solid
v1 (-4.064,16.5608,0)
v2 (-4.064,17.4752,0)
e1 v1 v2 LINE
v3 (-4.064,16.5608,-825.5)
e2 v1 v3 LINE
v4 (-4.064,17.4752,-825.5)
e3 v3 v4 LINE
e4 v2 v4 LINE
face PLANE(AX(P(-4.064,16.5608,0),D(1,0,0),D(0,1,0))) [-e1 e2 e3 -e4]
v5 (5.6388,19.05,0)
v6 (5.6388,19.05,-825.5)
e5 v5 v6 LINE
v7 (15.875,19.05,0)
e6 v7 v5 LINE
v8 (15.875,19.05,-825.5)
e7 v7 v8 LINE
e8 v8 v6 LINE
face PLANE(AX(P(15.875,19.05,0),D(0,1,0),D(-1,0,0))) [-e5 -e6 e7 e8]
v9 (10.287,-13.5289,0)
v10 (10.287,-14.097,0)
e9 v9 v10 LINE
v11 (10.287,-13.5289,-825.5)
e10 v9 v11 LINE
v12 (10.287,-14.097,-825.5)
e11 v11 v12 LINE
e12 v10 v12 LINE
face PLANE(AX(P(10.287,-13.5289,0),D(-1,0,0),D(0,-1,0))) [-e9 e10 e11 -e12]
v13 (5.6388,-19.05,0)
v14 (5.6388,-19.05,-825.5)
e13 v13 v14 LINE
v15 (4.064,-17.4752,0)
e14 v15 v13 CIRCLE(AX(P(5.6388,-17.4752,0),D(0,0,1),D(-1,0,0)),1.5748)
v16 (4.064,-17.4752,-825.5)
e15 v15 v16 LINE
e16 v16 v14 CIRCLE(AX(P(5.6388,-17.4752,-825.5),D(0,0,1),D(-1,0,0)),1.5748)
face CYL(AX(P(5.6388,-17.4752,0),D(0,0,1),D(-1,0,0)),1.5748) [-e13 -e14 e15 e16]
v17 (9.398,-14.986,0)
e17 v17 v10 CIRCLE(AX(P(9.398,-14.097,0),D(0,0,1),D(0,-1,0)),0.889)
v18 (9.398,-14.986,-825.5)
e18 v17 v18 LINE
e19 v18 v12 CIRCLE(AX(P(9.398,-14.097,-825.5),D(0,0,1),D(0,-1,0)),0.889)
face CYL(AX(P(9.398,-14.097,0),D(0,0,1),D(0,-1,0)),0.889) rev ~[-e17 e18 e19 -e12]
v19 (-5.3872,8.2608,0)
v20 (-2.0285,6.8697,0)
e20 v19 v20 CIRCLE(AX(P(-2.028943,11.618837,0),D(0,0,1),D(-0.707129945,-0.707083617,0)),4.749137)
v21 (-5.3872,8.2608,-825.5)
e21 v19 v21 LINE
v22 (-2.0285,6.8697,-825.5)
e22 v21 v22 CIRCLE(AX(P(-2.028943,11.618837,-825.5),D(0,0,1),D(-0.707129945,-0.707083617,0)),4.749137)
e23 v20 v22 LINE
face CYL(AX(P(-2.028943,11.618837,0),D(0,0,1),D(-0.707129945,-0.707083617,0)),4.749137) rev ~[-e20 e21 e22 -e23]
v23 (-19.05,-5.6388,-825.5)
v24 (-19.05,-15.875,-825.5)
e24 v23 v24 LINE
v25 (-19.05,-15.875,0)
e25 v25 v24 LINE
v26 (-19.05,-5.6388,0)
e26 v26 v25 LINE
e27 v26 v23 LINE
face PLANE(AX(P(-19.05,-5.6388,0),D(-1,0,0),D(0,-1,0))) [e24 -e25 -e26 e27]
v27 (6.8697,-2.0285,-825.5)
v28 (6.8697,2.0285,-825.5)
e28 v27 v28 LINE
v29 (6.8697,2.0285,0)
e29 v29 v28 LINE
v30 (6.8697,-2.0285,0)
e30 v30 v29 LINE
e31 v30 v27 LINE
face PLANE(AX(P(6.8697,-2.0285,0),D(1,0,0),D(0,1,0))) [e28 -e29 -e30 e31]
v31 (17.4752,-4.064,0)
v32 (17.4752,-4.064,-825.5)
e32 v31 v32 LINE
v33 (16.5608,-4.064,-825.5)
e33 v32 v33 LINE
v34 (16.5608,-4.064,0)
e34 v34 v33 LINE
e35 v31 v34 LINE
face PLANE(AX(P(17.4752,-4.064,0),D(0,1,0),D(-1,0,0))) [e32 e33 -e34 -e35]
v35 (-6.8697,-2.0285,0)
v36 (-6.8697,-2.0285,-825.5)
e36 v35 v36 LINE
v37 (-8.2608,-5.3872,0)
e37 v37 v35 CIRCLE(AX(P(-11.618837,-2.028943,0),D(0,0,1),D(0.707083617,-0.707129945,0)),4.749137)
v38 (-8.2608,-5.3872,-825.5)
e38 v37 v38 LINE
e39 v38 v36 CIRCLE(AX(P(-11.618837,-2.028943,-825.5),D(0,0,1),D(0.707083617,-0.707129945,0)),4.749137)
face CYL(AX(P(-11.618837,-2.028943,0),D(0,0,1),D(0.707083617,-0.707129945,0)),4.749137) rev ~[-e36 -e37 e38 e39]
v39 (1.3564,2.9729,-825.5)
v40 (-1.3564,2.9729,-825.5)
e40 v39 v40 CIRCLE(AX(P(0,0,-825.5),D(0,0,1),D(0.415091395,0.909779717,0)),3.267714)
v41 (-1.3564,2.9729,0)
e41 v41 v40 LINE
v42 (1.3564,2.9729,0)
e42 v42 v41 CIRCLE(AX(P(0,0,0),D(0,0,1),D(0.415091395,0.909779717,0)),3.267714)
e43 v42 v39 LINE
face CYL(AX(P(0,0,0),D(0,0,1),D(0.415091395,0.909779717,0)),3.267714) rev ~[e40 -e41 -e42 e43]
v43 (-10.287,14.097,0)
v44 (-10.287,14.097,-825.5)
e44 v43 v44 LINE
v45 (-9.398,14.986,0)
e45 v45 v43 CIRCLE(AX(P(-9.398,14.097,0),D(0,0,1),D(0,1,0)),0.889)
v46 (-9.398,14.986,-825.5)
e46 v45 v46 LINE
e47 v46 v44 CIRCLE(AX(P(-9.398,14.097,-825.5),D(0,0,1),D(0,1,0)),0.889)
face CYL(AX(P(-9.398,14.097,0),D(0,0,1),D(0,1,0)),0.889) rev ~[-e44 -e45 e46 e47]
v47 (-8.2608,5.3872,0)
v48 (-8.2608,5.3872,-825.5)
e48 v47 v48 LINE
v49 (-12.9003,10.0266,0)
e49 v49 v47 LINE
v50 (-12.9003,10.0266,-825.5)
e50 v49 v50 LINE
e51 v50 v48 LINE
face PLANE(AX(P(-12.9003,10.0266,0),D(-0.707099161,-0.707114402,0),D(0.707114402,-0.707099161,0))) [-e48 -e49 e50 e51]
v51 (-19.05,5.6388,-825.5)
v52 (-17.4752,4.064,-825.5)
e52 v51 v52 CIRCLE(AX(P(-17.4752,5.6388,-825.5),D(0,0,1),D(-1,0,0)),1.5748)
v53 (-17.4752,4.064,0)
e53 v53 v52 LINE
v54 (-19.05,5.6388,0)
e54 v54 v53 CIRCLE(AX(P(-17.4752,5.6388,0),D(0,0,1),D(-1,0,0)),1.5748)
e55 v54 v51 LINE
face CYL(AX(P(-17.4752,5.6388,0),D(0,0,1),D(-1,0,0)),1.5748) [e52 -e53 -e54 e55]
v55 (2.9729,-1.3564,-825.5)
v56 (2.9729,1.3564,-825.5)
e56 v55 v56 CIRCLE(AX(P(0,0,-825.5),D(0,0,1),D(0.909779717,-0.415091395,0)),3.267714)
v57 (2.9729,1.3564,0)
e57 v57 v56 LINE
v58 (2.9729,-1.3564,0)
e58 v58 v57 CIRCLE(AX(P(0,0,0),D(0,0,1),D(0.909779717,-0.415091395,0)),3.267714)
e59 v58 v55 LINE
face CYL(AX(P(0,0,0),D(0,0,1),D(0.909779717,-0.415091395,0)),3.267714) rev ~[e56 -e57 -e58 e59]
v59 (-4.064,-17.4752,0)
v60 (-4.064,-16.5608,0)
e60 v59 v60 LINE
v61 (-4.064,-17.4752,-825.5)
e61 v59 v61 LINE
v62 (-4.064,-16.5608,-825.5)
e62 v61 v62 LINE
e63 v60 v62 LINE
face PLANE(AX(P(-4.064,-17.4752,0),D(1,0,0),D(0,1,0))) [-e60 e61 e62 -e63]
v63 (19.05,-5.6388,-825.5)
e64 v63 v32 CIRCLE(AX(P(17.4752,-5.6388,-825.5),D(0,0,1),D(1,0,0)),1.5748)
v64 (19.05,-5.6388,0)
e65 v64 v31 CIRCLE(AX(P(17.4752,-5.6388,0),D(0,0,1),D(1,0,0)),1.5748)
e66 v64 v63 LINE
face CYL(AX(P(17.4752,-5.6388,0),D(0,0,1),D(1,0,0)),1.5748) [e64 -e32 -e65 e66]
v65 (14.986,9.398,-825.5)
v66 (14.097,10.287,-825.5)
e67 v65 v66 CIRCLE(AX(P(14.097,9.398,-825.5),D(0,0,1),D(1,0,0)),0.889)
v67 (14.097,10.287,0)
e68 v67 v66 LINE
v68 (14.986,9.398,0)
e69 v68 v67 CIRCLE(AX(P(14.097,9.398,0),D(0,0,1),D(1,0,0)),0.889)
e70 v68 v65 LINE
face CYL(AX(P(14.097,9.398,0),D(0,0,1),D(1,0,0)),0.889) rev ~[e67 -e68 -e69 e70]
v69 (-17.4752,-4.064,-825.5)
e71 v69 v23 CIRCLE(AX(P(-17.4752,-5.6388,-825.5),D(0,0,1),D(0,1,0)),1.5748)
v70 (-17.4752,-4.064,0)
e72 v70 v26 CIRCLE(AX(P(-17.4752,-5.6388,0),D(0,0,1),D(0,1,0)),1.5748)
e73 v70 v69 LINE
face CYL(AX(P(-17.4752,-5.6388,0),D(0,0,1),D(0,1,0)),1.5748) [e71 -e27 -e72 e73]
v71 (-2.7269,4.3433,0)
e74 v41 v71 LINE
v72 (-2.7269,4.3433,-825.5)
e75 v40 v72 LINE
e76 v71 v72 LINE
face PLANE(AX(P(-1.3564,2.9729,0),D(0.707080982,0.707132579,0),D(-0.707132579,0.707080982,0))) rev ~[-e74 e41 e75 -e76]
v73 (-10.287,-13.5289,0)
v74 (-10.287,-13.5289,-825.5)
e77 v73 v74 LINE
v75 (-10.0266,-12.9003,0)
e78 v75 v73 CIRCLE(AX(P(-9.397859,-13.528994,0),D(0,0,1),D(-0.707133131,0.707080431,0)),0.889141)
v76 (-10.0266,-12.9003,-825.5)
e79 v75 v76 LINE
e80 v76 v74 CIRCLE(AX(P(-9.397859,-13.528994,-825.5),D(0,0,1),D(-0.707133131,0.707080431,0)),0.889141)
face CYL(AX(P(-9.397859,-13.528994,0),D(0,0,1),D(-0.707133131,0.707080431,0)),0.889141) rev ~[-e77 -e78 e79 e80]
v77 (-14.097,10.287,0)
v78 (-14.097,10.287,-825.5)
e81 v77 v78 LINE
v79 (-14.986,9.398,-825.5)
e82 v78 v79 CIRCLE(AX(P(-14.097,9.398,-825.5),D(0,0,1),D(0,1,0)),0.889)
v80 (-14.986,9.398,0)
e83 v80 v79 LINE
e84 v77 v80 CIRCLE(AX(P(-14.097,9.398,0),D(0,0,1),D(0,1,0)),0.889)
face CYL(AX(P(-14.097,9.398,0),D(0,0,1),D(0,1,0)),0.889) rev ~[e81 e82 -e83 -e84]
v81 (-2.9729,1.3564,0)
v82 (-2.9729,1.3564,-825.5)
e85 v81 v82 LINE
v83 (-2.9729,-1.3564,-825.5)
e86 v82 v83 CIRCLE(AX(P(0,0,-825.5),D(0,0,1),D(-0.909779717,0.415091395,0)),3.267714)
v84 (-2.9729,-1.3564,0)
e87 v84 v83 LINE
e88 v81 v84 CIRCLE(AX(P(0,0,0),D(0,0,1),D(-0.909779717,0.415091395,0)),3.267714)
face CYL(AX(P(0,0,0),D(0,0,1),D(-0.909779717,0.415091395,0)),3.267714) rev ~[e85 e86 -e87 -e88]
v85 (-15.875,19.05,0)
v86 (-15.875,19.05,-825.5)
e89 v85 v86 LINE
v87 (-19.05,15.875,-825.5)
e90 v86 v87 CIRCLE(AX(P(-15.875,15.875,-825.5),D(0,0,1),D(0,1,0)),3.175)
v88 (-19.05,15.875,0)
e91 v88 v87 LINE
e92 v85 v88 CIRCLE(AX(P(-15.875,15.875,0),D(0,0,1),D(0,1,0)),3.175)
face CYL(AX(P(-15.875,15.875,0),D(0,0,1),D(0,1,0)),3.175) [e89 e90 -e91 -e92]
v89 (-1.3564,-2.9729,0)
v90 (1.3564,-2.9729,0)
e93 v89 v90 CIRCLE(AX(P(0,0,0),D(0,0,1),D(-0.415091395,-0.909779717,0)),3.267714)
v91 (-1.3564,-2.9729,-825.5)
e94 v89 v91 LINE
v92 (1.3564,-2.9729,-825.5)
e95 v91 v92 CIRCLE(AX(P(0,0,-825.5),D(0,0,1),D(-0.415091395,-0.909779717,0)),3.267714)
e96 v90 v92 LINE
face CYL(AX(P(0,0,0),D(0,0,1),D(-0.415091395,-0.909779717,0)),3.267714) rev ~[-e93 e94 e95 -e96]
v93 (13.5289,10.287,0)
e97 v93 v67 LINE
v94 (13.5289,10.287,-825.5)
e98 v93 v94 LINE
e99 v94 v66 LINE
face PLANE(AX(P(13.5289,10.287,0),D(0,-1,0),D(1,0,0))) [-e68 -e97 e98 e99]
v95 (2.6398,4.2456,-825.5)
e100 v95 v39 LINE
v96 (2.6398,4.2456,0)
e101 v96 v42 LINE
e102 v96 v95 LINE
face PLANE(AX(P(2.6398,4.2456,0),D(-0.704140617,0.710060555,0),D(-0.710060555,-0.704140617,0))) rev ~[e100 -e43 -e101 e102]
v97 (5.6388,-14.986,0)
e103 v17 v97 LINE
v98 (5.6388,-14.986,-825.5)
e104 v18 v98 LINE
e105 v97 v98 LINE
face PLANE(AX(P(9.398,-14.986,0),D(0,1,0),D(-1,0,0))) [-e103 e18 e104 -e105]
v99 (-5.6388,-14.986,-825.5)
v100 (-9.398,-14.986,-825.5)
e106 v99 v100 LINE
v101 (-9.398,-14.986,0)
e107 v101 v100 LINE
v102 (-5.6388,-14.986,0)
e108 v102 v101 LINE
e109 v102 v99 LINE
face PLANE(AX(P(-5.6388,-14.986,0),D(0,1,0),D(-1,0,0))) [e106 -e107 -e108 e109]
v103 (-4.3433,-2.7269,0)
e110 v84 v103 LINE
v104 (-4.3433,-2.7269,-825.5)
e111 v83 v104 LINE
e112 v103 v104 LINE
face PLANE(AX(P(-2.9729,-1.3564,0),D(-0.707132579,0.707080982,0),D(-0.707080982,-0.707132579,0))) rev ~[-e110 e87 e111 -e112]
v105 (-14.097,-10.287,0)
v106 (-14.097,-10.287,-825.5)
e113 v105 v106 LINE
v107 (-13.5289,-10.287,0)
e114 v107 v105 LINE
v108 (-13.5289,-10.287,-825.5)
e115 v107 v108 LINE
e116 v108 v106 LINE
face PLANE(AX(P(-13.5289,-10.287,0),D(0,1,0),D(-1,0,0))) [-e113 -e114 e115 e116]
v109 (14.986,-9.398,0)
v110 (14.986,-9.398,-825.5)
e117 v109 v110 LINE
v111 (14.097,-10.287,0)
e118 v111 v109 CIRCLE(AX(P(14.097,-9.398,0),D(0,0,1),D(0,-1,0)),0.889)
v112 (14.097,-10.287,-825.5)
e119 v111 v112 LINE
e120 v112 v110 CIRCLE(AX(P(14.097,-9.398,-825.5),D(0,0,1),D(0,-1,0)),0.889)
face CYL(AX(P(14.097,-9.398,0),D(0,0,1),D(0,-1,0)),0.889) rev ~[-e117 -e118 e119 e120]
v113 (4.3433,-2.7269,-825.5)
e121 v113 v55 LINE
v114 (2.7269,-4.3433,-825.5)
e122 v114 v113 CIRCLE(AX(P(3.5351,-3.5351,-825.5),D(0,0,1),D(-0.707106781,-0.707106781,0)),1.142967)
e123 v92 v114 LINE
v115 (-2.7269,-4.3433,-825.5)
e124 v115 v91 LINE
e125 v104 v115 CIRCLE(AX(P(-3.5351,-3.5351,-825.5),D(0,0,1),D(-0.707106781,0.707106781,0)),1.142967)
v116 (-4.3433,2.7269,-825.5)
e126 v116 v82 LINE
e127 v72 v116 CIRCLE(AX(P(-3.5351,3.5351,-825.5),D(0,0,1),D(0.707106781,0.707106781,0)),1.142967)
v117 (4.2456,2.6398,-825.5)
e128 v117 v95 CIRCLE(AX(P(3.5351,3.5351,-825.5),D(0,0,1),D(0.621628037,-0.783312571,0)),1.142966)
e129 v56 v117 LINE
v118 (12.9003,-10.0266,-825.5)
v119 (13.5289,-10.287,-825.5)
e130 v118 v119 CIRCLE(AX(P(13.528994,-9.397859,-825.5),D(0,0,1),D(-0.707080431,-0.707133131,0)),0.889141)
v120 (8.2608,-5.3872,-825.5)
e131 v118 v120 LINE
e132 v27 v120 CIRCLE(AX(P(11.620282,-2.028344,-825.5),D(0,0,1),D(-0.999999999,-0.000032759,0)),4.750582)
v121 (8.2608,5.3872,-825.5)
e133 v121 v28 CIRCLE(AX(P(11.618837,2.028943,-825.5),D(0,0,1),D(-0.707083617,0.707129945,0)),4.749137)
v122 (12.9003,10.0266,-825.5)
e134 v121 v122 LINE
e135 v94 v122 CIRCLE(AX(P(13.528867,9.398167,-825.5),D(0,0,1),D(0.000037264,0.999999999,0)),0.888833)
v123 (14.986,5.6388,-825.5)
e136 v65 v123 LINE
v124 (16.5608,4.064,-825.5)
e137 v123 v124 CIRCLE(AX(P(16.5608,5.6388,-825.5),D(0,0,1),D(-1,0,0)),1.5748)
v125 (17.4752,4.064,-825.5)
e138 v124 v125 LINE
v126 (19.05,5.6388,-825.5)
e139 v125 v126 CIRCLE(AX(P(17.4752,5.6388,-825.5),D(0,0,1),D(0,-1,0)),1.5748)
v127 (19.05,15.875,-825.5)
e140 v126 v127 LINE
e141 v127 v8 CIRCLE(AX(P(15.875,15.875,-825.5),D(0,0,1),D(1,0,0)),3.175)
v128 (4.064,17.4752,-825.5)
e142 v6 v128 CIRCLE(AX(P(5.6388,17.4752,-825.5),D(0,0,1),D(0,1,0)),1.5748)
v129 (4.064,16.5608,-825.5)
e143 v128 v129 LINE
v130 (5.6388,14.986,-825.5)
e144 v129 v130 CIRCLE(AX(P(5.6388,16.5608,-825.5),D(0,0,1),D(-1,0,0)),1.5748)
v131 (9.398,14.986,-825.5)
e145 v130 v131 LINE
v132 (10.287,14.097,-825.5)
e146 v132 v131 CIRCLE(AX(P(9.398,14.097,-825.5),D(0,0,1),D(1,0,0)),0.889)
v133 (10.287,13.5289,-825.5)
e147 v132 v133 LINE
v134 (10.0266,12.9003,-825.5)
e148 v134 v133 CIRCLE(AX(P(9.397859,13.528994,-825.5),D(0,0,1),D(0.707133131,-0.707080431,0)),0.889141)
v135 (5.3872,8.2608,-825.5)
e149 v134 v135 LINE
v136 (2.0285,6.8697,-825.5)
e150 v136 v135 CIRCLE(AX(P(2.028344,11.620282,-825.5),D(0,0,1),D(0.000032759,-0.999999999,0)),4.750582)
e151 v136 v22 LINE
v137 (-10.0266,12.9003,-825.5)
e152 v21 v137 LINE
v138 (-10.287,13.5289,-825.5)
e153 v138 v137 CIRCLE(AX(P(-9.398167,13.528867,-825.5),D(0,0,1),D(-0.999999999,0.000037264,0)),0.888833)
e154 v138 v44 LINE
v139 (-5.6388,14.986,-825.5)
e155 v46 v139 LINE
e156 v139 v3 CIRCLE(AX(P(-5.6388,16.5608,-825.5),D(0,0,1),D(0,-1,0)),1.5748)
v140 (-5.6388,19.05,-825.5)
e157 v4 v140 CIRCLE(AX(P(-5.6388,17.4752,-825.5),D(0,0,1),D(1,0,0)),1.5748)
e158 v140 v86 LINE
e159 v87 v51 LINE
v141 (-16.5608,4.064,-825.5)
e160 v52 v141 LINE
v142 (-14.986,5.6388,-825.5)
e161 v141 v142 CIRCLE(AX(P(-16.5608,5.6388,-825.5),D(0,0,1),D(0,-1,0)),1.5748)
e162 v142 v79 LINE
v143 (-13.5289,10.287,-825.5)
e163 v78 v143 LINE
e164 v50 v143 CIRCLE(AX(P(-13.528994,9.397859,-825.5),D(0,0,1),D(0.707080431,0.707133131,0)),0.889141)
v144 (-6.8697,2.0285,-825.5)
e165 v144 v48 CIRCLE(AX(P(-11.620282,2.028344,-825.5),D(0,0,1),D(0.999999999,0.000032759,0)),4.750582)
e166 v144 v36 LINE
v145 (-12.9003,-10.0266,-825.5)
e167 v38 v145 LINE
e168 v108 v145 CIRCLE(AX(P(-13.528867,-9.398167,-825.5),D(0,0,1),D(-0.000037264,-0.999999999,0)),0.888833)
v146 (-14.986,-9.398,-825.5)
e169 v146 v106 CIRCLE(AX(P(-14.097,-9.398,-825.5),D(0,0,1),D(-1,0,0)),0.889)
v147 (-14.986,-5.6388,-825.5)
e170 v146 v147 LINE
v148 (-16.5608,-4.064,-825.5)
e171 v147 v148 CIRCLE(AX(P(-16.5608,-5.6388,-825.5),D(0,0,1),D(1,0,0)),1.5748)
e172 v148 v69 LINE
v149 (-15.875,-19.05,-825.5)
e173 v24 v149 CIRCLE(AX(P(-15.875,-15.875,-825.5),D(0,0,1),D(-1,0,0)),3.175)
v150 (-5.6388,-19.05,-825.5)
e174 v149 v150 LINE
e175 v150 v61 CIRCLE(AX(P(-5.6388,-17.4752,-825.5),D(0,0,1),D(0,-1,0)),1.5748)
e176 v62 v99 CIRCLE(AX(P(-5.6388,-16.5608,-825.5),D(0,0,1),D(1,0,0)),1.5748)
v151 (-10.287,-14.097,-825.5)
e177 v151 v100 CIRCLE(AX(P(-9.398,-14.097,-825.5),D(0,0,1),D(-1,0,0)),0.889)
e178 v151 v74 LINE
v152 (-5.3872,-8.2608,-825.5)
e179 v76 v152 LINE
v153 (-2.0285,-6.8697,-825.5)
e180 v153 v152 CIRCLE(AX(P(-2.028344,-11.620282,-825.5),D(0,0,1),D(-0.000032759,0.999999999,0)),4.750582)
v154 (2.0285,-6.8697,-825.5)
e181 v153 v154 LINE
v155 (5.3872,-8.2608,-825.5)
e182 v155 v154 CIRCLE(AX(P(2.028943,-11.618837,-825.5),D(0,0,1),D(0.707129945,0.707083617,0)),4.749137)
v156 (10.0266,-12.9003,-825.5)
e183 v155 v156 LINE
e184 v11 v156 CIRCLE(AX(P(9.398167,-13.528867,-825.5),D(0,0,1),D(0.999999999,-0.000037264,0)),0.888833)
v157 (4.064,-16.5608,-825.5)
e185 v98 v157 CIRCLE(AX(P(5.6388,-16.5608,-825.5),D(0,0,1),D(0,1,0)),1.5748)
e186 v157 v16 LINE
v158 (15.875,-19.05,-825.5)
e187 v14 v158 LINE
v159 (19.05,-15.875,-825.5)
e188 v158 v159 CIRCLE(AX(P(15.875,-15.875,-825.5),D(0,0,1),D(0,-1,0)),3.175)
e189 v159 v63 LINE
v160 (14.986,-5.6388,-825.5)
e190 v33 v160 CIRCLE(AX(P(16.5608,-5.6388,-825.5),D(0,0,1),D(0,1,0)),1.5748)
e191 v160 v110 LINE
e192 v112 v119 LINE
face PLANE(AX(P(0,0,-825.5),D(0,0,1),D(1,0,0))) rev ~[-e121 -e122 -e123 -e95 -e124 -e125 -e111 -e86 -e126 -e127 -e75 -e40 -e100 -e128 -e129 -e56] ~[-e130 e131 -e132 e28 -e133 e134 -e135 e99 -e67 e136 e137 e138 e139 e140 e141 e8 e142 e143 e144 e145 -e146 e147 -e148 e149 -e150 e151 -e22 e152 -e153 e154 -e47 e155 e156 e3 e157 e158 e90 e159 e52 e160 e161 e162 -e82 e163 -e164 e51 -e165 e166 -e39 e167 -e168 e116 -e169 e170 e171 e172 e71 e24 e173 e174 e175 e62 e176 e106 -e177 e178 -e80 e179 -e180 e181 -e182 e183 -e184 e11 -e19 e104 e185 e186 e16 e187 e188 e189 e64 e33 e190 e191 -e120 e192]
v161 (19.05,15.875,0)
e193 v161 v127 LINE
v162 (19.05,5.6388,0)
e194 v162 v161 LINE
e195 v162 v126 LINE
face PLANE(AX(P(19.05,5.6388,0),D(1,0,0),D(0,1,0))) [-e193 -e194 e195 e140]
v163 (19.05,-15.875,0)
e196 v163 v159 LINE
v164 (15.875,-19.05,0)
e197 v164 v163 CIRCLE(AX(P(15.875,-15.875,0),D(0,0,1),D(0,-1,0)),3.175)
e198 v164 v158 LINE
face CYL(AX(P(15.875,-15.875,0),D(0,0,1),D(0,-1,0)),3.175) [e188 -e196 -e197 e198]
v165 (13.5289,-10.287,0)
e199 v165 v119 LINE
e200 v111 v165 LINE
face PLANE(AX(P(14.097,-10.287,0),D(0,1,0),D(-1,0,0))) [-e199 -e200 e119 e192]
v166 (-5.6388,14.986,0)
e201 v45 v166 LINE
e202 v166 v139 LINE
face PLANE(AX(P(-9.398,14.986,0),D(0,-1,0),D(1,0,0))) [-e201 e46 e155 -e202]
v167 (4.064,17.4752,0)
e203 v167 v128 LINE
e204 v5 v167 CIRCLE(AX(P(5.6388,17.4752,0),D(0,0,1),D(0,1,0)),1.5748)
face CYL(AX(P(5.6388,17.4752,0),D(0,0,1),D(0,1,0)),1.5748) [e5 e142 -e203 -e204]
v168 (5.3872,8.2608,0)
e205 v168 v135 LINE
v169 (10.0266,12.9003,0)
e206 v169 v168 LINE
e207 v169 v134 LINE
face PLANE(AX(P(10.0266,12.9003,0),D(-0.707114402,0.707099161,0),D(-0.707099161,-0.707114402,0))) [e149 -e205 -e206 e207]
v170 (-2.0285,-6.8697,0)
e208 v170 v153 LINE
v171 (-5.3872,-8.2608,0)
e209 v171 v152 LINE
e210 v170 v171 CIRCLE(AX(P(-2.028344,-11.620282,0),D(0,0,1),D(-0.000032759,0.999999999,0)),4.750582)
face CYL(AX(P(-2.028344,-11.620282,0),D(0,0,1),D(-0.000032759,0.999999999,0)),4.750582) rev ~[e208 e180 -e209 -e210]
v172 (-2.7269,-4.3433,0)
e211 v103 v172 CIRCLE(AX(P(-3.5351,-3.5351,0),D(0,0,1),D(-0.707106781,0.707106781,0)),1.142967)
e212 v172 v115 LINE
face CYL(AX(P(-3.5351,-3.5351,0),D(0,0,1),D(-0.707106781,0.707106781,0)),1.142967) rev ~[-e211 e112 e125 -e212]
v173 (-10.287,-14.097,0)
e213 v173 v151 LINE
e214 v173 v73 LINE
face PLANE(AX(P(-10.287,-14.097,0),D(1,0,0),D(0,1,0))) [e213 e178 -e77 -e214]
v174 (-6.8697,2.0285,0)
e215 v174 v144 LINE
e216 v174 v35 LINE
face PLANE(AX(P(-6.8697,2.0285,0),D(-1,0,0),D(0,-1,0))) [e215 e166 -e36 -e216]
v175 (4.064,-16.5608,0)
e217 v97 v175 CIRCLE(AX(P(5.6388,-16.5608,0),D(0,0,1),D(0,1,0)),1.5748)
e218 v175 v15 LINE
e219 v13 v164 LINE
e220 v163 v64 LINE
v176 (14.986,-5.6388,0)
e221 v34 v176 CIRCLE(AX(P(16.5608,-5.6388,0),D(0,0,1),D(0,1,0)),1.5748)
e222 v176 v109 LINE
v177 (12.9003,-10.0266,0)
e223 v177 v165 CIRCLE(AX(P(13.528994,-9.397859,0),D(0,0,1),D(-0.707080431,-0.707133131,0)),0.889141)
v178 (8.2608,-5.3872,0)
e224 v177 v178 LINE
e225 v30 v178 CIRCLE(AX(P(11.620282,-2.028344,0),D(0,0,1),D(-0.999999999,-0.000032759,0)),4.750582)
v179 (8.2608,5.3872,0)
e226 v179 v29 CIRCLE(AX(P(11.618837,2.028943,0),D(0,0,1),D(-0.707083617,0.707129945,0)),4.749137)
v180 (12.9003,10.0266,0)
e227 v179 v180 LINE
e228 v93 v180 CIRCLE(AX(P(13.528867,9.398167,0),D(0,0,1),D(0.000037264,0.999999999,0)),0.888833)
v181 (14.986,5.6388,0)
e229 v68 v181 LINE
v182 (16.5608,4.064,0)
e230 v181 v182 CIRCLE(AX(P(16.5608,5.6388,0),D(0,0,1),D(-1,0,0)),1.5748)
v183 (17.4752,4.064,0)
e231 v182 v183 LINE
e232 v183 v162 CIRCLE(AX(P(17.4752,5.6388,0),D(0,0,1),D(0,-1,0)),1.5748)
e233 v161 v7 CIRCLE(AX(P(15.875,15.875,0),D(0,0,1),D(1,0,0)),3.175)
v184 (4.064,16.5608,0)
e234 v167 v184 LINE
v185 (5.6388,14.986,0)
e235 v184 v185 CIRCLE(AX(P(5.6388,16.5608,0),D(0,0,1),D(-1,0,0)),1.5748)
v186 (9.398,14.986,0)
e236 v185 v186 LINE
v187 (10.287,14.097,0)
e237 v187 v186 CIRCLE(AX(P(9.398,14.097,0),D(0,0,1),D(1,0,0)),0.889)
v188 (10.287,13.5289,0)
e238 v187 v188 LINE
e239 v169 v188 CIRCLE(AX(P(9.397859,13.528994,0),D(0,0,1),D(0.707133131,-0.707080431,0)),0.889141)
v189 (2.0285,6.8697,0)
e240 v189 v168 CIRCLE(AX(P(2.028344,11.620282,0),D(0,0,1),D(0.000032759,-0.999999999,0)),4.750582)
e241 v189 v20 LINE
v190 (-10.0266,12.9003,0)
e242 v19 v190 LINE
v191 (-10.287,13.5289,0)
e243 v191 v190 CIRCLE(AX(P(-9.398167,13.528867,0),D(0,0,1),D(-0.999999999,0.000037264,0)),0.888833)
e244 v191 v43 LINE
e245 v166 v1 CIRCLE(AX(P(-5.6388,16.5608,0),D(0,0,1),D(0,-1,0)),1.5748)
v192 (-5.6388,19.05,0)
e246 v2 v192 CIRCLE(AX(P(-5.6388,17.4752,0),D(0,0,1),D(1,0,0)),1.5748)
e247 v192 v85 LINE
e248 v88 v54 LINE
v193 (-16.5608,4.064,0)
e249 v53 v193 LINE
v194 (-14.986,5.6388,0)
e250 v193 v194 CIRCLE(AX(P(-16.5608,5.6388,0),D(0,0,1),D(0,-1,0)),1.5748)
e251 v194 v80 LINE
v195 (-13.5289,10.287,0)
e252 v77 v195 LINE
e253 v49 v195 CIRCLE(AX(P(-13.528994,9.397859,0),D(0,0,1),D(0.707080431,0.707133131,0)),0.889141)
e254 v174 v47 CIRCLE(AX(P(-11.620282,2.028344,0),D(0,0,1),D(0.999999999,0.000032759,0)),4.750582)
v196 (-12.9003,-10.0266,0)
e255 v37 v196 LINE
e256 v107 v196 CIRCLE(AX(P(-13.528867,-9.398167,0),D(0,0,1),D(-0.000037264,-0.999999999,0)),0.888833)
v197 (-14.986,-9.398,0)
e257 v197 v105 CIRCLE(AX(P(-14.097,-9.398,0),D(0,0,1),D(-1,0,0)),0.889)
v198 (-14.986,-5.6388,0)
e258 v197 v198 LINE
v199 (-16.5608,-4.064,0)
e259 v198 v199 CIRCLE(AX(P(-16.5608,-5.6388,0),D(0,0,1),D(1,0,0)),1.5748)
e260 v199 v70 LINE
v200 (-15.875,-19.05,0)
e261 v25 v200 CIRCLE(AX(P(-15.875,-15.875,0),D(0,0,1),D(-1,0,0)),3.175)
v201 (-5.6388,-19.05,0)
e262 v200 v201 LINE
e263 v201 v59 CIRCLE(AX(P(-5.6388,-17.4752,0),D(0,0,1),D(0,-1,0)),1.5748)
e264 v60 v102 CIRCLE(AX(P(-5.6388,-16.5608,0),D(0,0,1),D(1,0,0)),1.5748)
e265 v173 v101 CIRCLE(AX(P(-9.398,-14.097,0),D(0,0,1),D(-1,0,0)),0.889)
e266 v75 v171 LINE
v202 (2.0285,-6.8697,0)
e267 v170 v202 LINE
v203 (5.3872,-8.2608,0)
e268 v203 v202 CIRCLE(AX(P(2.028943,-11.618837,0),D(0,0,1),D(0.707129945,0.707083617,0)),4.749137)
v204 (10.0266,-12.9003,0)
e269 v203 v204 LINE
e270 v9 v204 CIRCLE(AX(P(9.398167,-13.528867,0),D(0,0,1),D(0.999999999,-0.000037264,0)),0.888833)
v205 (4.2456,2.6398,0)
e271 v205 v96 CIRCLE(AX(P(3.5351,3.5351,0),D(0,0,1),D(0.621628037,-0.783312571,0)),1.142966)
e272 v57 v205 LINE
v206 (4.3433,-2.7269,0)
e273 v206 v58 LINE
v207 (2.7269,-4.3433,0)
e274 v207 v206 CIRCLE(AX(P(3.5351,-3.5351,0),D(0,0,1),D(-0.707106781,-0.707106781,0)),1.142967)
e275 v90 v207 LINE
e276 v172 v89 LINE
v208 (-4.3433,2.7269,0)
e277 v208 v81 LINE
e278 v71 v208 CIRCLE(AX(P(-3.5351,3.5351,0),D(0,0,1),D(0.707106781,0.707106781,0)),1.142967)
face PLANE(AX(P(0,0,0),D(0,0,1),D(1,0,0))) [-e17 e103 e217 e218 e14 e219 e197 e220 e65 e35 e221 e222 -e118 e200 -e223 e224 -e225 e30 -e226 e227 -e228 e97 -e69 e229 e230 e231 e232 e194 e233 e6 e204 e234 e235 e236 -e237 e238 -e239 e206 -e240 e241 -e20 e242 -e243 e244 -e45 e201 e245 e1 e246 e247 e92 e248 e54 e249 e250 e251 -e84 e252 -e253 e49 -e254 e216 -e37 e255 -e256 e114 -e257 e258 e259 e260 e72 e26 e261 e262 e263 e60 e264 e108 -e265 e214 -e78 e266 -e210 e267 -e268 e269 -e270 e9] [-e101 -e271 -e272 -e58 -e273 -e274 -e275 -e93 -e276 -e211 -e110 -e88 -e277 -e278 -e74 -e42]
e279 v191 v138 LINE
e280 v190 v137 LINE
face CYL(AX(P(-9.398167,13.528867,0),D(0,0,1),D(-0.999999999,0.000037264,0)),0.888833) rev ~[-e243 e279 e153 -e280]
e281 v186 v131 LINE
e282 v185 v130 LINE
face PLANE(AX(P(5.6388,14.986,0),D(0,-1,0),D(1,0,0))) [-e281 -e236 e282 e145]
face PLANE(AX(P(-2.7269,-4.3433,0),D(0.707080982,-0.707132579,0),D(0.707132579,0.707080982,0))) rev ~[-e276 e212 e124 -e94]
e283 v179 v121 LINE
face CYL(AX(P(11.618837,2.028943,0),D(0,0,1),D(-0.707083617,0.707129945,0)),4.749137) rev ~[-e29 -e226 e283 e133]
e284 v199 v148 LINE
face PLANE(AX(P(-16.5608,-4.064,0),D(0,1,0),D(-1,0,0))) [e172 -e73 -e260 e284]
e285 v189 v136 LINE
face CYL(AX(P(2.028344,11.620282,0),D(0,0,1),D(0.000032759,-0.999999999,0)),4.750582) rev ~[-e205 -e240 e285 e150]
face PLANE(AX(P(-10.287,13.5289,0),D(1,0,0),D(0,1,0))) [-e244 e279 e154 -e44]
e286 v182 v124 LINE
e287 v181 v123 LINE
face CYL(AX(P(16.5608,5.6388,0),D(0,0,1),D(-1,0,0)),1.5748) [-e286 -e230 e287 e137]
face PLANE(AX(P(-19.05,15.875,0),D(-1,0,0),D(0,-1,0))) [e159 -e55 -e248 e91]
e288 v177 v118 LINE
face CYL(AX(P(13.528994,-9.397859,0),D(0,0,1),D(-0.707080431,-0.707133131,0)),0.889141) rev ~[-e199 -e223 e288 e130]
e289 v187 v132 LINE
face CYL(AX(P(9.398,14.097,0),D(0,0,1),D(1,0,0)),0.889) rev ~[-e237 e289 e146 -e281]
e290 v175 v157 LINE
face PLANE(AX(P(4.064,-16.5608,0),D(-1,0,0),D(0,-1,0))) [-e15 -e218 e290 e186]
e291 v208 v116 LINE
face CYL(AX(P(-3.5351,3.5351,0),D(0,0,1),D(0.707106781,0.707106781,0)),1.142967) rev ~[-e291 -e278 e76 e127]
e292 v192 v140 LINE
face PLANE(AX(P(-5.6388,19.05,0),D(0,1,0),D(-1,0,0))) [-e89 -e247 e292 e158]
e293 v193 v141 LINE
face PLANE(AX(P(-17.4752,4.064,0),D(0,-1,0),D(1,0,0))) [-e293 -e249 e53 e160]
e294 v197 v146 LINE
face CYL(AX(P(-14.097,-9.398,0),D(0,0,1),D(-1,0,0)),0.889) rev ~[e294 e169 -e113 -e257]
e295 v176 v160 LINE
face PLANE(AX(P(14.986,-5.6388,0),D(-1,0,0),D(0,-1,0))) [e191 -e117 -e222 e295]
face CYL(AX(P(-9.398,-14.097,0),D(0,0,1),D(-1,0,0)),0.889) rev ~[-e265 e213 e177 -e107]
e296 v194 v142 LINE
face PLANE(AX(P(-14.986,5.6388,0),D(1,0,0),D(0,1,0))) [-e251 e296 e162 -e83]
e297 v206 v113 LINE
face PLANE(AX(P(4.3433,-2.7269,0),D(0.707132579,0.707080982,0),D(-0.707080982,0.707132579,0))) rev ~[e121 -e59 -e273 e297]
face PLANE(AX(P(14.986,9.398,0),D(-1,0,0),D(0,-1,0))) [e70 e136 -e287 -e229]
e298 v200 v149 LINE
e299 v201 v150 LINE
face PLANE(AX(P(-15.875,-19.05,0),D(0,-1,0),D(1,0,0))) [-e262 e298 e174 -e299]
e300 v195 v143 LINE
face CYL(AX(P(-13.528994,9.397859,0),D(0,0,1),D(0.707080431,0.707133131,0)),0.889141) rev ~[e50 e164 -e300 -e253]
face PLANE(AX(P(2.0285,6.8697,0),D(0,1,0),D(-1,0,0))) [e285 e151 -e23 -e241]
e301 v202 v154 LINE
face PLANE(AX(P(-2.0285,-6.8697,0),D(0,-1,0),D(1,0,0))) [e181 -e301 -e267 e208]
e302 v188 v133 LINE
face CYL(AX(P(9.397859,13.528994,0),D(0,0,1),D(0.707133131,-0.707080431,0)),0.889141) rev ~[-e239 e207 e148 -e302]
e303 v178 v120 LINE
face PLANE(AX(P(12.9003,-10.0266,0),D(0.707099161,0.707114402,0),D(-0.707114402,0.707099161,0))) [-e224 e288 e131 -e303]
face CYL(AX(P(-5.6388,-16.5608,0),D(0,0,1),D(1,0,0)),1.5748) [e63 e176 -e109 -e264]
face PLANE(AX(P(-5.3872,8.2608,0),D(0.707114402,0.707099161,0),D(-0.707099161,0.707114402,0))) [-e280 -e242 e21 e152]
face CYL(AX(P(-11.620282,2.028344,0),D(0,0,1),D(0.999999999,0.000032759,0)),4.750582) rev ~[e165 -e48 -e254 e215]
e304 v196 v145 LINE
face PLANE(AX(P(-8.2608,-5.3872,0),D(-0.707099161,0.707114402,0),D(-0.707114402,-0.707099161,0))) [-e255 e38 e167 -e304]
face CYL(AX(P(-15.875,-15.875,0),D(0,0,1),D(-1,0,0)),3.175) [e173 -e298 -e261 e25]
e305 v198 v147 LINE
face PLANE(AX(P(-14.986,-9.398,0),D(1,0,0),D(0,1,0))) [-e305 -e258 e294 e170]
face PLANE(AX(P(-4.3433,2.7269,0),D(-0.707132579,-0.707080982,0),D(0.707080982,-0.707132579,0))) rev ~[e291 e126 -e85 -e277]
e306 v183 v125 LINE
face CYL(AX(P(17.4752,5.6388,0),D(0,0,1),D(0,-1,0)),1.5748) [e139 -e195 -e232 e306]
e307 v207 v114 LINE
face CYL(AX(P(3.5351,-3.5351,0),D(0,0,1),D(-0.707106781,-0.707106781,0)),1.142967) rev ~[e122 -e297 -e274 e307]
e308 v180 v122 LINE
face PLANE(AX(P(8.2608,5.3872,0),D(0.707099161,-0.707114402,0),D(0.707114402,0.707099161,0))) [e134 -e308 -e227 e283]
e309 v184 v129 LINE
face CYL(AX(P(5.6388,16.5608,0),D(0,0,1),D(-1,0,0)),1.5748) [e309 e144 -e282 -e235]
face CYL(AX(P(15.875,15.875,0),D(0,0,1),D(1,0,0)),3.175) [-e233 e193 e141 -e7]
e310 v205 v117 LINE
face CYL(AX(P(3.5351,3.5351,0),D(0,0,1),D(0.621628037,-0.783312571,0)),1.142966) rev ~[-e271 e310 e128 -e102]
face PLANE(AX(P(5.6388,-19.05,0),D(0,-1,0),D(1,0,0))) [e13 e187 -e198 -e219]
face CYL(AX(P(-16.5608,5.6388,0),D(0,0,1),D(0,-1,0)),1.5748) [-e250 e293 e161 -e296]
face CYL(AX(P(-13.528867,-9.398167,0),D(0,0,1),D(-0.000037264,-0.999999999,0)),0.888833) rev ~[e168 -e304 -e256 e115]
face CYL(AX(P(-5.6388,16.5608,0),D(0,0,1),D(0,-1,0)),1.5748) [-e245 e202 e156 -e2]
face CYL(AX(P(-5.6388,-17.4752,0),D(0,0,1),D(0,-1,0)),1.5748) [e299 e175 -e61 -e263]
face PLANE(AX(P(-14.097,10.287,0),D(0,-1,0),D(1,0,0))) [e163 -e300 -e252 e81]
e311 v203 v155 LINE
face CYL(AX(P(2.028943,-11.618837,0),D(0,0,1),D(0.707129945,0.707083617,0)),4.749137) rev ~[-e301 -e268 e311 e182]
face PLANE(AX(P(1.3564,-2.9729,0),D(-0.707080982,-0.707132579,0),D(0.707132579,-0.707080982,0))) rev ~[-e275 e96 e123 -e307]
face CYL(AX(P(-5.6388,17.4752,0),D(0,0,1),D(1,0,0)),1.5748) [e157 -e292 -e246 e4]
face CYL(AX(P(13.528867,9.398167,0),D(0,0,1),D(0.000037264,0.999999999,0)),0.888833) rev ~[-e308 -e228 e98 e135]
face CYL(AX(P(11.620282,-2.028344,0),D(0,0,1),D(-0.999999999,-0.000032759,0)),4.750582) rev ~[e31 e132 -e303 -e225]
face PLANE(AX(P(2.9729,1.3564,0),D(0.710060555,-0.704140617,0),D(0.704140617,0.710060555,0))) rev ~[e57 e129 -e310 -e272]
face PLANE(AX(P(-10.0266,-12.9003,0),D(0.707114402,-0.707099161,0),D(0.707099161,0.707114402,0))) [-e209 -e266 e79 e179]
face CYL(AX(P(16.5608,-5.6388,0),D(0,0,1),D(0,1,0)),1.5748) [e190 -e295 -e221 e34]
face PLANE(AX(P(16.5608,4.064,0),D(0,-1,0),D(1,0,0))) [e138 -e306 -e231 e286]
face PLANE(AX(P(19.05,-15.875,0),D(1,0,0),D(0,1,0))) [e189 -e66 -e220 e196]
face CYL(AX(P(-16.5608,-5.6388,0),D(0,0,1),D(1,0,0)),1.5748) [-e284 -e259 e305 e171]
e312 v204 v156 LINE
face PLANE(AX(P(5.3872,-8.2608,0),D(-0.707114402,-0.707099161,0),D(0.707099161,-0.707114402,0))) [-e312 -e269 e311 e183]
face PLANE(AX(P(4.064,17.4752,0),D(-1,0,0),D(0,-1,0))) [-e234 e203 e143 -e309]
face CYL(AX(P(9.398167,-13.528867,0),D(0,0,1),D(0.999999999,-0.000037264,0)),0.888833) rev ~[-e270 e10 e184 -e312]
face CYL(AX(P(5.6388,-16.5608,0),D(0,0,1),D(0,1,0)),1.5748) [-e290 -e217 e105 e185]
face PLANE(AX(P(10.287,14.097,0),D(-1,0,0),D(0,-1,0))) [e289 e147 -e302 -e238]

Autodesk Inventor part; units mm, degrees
ref_plane "YZ Plane" through (0, 0, 0) normal (1, 0, 0) x (0, 1, 0)
ref_plane "XZ Plane" through (0, 0, 0) normal (0, 1, 0) x (-1, 0, 0)
ref_plane "Work Plane1" through (-293.8098, -15.875, -838.2) normal (0, 0, 1) x (1, 0, 0)
sketch "Sketch1" plane through (0, 0, 0) normal (0, 0, 1) x (1, 0, 0)
  arc A0 (4.2456, 2.6398) -> (2.6398, 4.2456) centre (3.5351, 3.5351) ccw
  line L0 (2.9729, 1.3564) -> (4.2456, 2.6398)
  arc A1 (2.9729, -1.3564) -> (2.9729, 1.3564) centre (0, 0) ccw
  line L1 (4.3433, -2.7269) -> (2.9729, -1.3564)
  arc A2 (2.7269, -4.3433) -> (4.3433, -2.7269) centre (3.5351, -3.5351) ccw
  line L2 (1.3564, -2.9729) -> (2.7269, -4.3433)
  arc A3 (-1.3564, -2.9729) -> (1.3564, -2.9729) centre (0, 0) ccw
  line L3 (-2.7269, -4.3433) -> (-1.3564, -2.9729)
  arc A4 (-4.3433, -2.7269) -> (-2.7269, -4.3433) centre (-3.5351, -3.5351) ccw
  line L4 (-2.9729, -1.3564) -> (-4.3433, -2.7269)
  arc A5 (-2.9729, 1.3564) -> (-2.9729, -1.3564) centre (0, 0) ccw
  line L5 (-4.3433, 2.7269) -> (-2.9729, 1.3564)
  arc A6 (-2.7269, 4.3433) -> (-4.3433, 2.7269) centre (-3.5351, 3.5351) ccw
  line L6 (-1.3564, 2.9729) -> (-2.7269, 4.3433)
  arc A7 (1.3564, 2.9729) -> (-1.3564, 2.9729) centre (0, 0) ccw
  line L7 (2.6398, 4.2456) -> (1.3564, 2.9729)
  arc A8 (16.5608, -4.064) -> (14.986, -5.6388) centre (16.5608, -5.6388) ccw
  line L8 (14.986, -5.6388) -> (14.986, -9.398)
  arc A9 (14.097, -10.287) -> (14.986, -9.398) centre (14.097, -9.398) ccw
  line L9 (14.097, -10.287) -> (13.5289, -10.287)
  arc A10 (12.9003, -10.0266) -> (13.5289, -10.287) centre (13.5289, -9.398) ccw
  line L10 (12.9003, -10.0266) -> (8.2608, -5.3872)
  arc A11 (6.8697, -2.0285) -> (8.2608, -5.3872) centre (11.6195, -2.0285) ccw
  line L11 (6.8697, -2.0285) -> (6.8697, 2.0285)
  arc A12 (8.2608, 5.3872) -> (6.8697, 2.0285) centre (11.6195, 2.0285) ccw
  line L12 (8.2608, 5.3872) -> (12.9003, 10.0266)
  arc A13 (13.5289, 10.287) -> (12.9003, 10.0266) centre (13.5289, 9.398) ccw
  line L13 (13.5289, 10.287) -> (14.097, 10.287)
  arc A14 (14.986, 9.398) -> (14.097, 10.287) centre (14.097, 9.398) ccw
  line L14 (14.986, 9.398) -> (14.986, 5.6388)
  arc A15 (14.986, 5.6388) -> (16.5608, 4.064) centre (16.5608, 5.6388) ccw
  line L15 (16.5608, 4.064) -> (17.4752, 4.064)
  arc A16 (17.4752, 4.064) -> (19.05, 5.6388) centre (17.4752, 5.6388) ccw
  line L16 (19.05, 5.6388) -> (19.05, 15.875)
  arc A17 (19.05, 15.875) -> (15.875, 19.05) centre (15.875, 15.875) ccw
  line L17 (15.875, 19.05) -> (5.6388, 19.05)
  arc A18 (5.6388, 19.05) -> (4.064, 17.4752) centre (5.6388, 17.4752) ccw
  line L18 (4.064, 17.4752) -> (4.064, 16.5608)
  arc A19 (4.064, 16.5608) -> (5.6388, 14.986) centre (5.6388, 16.5608) ccw
  line L19 (5.6388, 14.986) -> (9.398, 14.986)
  arc A20 (10.287, 14.097) -> (9.398, 14.986) centre (9.398, 14.097) ccw
  line L20 (10.287, 14.097) -> (10.287, 13.5289)
  arc A21 (10.0266, 12.9003) -> (10.287, 13.5289) centre (9.398, 13.5289) ccw
  line L21 (10.0266, 12.9003) -> (5.3872, 8.2608)
  arc A22 (2.0285, 6.8697) -> (5.3872, 8.2608) centre (2.0285, 11.6195) ccw
  line L22 (2.0285, 6.8697) -> (-2.0285, 6.8697)
  arc A23 (-5.3872, 8.2608) -> (-2.0285, 6.8697) centre (-2.0285, 11.6195) ccw
  line L23 (-5.3872, 8.2608) -> (-10.0266, 12.9003)
  arc A24 (-10.287, 13.5289) -> (-10.0266, 12.9003) centre (-9.398, 13.5289) ccw
  line L24 (-10.287, 13.5289) -> (-10.287, 14.097)
  arc A25 (-9.398, 14.986) -> (-10.287, 14.097) centre (-9.398, 14.097) ccw
  line L25 (-9.398, 14.986) -> (-5.6388, 14.986)
  arc A26 (-5.6388, 14.986) -> (-4.064, 16.5608) centre (-5.6388, 16.5608) ccw
  line L26 (-4.064, 16.5608) -> (-4.064, 17.4752)
  arc A27 (-4.064, 17.4752) -> (-5.6388, 19.05) centre (-5.6388, 17.4752) ccw
  line L27 (-5.6388, 19.05) -> (-15.875, 19.05)
  arc A28 (-15.875, 19.05) -> (-19.05, 15.875) centre (-15.875, 15.875) ccw
  line L28 (-19.05, 15.875) -> (-19.05, 5.6388)
  arc A29 (-19.05, 5.6388) -> (-17.4752, 4.064) centre (-17.4752, 5.6388) ccw
  line L29 (-17.4752, 4.064) -> (-16.5608, 4.064)
  arc A30 (-16.5608, 4.064) -> (-14.986, 5.6388) centre (-16.5608, 5.6388) ccw
  line L30 (-14.986, 5.6388) -> (-14.986, 9.398)
  arc A31 (-14.097, 10.287) -> (-14.986, 9.398) centre (-14.097, 9.398) ccw
  line L31 (-14.097, 10.287) -> (-13.5289, 10.287)
  arc A32 (-12.9003, 10.0266) -> (-13.5289, 10.287) centre (-13.5289, 9.398) ccw
  line L32 (-12.9003, 10.0266) -> (-8.2608, 5.3872)
  arc A33 (-6.8697, 2.0285) -> (-8.2608, 5.3872) centre (-11.6195, 2.0285) ccw
  line L33 (-6.8697, 2.0285) -> (-6.8697, -2.0285)
  arc A34 (-8.2608, -5.3872) -> (-6.8697, -2.0285) centre (-11.6195, -2.0285) ccw
  line L34 (-8.2608, -5.3872) -> (-12.9003, -10.0266)
  arc A35 (-13.5289, -10.287) -> (-12.9003, -10.0266) centre (-13.5289, -9.398) ccw
  line L35 (-13.5289, -10.287) -> (-14.097, -10.287)
  arc A36 (-14.986, -9.398) -> (-14.097, -10.287) centre (-14.097, -9.398) ccw
  line L36 (-14.986, -9.398) -> (-14.986, -5.6388)
  arc A37 (-14.986, -5.6388) -> (-16.5608, -4.064) centre (-16.5608, -5.6388) ccw
  line L37 (-16.5608, -4.064) -> (-17.4752, -4.064)
  arc A38 (-17.4752, -4.064) -> (-19.05, -5.6388) centre (-17.4752, -5.6388) ccw
  line L38 (-19.05, -5.6388) -> (-19.05, -15.875)
  arc A39 (-19.05, -15.875) -> (-15.875, -19.05) centre (-15.875, -15.875) ccw
  line L39 (-15.875, -19.05) -> (-5.6388, -19.05)
  arc A40 (-5.6388, -19.05) -> (-4.064, -17.4752) centre (-5.6388, -17.4752) ccw
  line L40 (-4.064, -17.4752) -> (-4.064, -16.5608)
  arc A41 (-4.064, -16.5608) -> (-5.6388, -14.986) centre (-5.6388, -16.5608) ccw
  line L41 (-5.6388, -14.986) -> (-9.398, -14.986)
  arc A42 (-10.287, -14.097) -> (-9.398, -14.986) centre (-9.398, -14.097) ccw
  line L42 (-10.287, -14.097) -> (-10.287, -13.5289)
  arc A43 (-10.0266, -12.9003) -> (-10.287, -13.5289) centre (-9.398, -13.5289) ccw
  line L43 (-10.0266, -12.9003) -> (-5.3872, -8.2608)
  arc A44 (-2.0285, -6.8697) -> (-5.3872, -8.2608) centre (-2.0285, -11.6195) ccw
  line L44 (-2.0285, -6.8697) -> (2.0285, -6.8697)
  arc A45 (5.3872, -8.2608) -> (2.0285, -6.8697) centre (2.0285, -11.6195) ccw
  line L45 (5.3872, -8.2608) -> (10.0266, -12.9003)
  arc A46 (10.287, -13.5289) -> (10.0266, -12.9003) centre (9.398, -13.5289) ccw
  line L46 (10.287, -13.5289) -> (10.287, -14.097)
  arc A47 (9.398, -14.986) -> (10.287, -14.097) centre (9.398, -14.097) ccw
  line L47 (9.398, -14.986) -> (5.6388, -14.986)
  arc A48 (5.6388, -14.986) -> (4.064, -16.5608) centre (5.6388, -16.5608) ccw
  line L48 (4.064, -16.5608) -> (4.064, -17.4752)
  arc A49 (4.064, -17.4752) -> (5.6388, -19.05) centre (5.6388, -17.4752) ccw
  line L49 (5.6388, -19.05) -> (15.875, -19.05)
  arc A50 (15.875, -19.05) -> (19.05, -15.875) centre (15.875, -15.875) ccw
  line L50 (19.05, -15.875) -> (19.05, -5.6388)
  arc A51 (19.05, -5.6388) -> (17.4752, -4.064) centre (17.4752, -5.6388) ccw
  line L51 (17.4752, -4.064) -> (16.5608, -4.064)
extrude "Extrusion1" add sketch "Sketch1" against normal blind 825.5
properties part number "1515-S" material "Aluminum"
